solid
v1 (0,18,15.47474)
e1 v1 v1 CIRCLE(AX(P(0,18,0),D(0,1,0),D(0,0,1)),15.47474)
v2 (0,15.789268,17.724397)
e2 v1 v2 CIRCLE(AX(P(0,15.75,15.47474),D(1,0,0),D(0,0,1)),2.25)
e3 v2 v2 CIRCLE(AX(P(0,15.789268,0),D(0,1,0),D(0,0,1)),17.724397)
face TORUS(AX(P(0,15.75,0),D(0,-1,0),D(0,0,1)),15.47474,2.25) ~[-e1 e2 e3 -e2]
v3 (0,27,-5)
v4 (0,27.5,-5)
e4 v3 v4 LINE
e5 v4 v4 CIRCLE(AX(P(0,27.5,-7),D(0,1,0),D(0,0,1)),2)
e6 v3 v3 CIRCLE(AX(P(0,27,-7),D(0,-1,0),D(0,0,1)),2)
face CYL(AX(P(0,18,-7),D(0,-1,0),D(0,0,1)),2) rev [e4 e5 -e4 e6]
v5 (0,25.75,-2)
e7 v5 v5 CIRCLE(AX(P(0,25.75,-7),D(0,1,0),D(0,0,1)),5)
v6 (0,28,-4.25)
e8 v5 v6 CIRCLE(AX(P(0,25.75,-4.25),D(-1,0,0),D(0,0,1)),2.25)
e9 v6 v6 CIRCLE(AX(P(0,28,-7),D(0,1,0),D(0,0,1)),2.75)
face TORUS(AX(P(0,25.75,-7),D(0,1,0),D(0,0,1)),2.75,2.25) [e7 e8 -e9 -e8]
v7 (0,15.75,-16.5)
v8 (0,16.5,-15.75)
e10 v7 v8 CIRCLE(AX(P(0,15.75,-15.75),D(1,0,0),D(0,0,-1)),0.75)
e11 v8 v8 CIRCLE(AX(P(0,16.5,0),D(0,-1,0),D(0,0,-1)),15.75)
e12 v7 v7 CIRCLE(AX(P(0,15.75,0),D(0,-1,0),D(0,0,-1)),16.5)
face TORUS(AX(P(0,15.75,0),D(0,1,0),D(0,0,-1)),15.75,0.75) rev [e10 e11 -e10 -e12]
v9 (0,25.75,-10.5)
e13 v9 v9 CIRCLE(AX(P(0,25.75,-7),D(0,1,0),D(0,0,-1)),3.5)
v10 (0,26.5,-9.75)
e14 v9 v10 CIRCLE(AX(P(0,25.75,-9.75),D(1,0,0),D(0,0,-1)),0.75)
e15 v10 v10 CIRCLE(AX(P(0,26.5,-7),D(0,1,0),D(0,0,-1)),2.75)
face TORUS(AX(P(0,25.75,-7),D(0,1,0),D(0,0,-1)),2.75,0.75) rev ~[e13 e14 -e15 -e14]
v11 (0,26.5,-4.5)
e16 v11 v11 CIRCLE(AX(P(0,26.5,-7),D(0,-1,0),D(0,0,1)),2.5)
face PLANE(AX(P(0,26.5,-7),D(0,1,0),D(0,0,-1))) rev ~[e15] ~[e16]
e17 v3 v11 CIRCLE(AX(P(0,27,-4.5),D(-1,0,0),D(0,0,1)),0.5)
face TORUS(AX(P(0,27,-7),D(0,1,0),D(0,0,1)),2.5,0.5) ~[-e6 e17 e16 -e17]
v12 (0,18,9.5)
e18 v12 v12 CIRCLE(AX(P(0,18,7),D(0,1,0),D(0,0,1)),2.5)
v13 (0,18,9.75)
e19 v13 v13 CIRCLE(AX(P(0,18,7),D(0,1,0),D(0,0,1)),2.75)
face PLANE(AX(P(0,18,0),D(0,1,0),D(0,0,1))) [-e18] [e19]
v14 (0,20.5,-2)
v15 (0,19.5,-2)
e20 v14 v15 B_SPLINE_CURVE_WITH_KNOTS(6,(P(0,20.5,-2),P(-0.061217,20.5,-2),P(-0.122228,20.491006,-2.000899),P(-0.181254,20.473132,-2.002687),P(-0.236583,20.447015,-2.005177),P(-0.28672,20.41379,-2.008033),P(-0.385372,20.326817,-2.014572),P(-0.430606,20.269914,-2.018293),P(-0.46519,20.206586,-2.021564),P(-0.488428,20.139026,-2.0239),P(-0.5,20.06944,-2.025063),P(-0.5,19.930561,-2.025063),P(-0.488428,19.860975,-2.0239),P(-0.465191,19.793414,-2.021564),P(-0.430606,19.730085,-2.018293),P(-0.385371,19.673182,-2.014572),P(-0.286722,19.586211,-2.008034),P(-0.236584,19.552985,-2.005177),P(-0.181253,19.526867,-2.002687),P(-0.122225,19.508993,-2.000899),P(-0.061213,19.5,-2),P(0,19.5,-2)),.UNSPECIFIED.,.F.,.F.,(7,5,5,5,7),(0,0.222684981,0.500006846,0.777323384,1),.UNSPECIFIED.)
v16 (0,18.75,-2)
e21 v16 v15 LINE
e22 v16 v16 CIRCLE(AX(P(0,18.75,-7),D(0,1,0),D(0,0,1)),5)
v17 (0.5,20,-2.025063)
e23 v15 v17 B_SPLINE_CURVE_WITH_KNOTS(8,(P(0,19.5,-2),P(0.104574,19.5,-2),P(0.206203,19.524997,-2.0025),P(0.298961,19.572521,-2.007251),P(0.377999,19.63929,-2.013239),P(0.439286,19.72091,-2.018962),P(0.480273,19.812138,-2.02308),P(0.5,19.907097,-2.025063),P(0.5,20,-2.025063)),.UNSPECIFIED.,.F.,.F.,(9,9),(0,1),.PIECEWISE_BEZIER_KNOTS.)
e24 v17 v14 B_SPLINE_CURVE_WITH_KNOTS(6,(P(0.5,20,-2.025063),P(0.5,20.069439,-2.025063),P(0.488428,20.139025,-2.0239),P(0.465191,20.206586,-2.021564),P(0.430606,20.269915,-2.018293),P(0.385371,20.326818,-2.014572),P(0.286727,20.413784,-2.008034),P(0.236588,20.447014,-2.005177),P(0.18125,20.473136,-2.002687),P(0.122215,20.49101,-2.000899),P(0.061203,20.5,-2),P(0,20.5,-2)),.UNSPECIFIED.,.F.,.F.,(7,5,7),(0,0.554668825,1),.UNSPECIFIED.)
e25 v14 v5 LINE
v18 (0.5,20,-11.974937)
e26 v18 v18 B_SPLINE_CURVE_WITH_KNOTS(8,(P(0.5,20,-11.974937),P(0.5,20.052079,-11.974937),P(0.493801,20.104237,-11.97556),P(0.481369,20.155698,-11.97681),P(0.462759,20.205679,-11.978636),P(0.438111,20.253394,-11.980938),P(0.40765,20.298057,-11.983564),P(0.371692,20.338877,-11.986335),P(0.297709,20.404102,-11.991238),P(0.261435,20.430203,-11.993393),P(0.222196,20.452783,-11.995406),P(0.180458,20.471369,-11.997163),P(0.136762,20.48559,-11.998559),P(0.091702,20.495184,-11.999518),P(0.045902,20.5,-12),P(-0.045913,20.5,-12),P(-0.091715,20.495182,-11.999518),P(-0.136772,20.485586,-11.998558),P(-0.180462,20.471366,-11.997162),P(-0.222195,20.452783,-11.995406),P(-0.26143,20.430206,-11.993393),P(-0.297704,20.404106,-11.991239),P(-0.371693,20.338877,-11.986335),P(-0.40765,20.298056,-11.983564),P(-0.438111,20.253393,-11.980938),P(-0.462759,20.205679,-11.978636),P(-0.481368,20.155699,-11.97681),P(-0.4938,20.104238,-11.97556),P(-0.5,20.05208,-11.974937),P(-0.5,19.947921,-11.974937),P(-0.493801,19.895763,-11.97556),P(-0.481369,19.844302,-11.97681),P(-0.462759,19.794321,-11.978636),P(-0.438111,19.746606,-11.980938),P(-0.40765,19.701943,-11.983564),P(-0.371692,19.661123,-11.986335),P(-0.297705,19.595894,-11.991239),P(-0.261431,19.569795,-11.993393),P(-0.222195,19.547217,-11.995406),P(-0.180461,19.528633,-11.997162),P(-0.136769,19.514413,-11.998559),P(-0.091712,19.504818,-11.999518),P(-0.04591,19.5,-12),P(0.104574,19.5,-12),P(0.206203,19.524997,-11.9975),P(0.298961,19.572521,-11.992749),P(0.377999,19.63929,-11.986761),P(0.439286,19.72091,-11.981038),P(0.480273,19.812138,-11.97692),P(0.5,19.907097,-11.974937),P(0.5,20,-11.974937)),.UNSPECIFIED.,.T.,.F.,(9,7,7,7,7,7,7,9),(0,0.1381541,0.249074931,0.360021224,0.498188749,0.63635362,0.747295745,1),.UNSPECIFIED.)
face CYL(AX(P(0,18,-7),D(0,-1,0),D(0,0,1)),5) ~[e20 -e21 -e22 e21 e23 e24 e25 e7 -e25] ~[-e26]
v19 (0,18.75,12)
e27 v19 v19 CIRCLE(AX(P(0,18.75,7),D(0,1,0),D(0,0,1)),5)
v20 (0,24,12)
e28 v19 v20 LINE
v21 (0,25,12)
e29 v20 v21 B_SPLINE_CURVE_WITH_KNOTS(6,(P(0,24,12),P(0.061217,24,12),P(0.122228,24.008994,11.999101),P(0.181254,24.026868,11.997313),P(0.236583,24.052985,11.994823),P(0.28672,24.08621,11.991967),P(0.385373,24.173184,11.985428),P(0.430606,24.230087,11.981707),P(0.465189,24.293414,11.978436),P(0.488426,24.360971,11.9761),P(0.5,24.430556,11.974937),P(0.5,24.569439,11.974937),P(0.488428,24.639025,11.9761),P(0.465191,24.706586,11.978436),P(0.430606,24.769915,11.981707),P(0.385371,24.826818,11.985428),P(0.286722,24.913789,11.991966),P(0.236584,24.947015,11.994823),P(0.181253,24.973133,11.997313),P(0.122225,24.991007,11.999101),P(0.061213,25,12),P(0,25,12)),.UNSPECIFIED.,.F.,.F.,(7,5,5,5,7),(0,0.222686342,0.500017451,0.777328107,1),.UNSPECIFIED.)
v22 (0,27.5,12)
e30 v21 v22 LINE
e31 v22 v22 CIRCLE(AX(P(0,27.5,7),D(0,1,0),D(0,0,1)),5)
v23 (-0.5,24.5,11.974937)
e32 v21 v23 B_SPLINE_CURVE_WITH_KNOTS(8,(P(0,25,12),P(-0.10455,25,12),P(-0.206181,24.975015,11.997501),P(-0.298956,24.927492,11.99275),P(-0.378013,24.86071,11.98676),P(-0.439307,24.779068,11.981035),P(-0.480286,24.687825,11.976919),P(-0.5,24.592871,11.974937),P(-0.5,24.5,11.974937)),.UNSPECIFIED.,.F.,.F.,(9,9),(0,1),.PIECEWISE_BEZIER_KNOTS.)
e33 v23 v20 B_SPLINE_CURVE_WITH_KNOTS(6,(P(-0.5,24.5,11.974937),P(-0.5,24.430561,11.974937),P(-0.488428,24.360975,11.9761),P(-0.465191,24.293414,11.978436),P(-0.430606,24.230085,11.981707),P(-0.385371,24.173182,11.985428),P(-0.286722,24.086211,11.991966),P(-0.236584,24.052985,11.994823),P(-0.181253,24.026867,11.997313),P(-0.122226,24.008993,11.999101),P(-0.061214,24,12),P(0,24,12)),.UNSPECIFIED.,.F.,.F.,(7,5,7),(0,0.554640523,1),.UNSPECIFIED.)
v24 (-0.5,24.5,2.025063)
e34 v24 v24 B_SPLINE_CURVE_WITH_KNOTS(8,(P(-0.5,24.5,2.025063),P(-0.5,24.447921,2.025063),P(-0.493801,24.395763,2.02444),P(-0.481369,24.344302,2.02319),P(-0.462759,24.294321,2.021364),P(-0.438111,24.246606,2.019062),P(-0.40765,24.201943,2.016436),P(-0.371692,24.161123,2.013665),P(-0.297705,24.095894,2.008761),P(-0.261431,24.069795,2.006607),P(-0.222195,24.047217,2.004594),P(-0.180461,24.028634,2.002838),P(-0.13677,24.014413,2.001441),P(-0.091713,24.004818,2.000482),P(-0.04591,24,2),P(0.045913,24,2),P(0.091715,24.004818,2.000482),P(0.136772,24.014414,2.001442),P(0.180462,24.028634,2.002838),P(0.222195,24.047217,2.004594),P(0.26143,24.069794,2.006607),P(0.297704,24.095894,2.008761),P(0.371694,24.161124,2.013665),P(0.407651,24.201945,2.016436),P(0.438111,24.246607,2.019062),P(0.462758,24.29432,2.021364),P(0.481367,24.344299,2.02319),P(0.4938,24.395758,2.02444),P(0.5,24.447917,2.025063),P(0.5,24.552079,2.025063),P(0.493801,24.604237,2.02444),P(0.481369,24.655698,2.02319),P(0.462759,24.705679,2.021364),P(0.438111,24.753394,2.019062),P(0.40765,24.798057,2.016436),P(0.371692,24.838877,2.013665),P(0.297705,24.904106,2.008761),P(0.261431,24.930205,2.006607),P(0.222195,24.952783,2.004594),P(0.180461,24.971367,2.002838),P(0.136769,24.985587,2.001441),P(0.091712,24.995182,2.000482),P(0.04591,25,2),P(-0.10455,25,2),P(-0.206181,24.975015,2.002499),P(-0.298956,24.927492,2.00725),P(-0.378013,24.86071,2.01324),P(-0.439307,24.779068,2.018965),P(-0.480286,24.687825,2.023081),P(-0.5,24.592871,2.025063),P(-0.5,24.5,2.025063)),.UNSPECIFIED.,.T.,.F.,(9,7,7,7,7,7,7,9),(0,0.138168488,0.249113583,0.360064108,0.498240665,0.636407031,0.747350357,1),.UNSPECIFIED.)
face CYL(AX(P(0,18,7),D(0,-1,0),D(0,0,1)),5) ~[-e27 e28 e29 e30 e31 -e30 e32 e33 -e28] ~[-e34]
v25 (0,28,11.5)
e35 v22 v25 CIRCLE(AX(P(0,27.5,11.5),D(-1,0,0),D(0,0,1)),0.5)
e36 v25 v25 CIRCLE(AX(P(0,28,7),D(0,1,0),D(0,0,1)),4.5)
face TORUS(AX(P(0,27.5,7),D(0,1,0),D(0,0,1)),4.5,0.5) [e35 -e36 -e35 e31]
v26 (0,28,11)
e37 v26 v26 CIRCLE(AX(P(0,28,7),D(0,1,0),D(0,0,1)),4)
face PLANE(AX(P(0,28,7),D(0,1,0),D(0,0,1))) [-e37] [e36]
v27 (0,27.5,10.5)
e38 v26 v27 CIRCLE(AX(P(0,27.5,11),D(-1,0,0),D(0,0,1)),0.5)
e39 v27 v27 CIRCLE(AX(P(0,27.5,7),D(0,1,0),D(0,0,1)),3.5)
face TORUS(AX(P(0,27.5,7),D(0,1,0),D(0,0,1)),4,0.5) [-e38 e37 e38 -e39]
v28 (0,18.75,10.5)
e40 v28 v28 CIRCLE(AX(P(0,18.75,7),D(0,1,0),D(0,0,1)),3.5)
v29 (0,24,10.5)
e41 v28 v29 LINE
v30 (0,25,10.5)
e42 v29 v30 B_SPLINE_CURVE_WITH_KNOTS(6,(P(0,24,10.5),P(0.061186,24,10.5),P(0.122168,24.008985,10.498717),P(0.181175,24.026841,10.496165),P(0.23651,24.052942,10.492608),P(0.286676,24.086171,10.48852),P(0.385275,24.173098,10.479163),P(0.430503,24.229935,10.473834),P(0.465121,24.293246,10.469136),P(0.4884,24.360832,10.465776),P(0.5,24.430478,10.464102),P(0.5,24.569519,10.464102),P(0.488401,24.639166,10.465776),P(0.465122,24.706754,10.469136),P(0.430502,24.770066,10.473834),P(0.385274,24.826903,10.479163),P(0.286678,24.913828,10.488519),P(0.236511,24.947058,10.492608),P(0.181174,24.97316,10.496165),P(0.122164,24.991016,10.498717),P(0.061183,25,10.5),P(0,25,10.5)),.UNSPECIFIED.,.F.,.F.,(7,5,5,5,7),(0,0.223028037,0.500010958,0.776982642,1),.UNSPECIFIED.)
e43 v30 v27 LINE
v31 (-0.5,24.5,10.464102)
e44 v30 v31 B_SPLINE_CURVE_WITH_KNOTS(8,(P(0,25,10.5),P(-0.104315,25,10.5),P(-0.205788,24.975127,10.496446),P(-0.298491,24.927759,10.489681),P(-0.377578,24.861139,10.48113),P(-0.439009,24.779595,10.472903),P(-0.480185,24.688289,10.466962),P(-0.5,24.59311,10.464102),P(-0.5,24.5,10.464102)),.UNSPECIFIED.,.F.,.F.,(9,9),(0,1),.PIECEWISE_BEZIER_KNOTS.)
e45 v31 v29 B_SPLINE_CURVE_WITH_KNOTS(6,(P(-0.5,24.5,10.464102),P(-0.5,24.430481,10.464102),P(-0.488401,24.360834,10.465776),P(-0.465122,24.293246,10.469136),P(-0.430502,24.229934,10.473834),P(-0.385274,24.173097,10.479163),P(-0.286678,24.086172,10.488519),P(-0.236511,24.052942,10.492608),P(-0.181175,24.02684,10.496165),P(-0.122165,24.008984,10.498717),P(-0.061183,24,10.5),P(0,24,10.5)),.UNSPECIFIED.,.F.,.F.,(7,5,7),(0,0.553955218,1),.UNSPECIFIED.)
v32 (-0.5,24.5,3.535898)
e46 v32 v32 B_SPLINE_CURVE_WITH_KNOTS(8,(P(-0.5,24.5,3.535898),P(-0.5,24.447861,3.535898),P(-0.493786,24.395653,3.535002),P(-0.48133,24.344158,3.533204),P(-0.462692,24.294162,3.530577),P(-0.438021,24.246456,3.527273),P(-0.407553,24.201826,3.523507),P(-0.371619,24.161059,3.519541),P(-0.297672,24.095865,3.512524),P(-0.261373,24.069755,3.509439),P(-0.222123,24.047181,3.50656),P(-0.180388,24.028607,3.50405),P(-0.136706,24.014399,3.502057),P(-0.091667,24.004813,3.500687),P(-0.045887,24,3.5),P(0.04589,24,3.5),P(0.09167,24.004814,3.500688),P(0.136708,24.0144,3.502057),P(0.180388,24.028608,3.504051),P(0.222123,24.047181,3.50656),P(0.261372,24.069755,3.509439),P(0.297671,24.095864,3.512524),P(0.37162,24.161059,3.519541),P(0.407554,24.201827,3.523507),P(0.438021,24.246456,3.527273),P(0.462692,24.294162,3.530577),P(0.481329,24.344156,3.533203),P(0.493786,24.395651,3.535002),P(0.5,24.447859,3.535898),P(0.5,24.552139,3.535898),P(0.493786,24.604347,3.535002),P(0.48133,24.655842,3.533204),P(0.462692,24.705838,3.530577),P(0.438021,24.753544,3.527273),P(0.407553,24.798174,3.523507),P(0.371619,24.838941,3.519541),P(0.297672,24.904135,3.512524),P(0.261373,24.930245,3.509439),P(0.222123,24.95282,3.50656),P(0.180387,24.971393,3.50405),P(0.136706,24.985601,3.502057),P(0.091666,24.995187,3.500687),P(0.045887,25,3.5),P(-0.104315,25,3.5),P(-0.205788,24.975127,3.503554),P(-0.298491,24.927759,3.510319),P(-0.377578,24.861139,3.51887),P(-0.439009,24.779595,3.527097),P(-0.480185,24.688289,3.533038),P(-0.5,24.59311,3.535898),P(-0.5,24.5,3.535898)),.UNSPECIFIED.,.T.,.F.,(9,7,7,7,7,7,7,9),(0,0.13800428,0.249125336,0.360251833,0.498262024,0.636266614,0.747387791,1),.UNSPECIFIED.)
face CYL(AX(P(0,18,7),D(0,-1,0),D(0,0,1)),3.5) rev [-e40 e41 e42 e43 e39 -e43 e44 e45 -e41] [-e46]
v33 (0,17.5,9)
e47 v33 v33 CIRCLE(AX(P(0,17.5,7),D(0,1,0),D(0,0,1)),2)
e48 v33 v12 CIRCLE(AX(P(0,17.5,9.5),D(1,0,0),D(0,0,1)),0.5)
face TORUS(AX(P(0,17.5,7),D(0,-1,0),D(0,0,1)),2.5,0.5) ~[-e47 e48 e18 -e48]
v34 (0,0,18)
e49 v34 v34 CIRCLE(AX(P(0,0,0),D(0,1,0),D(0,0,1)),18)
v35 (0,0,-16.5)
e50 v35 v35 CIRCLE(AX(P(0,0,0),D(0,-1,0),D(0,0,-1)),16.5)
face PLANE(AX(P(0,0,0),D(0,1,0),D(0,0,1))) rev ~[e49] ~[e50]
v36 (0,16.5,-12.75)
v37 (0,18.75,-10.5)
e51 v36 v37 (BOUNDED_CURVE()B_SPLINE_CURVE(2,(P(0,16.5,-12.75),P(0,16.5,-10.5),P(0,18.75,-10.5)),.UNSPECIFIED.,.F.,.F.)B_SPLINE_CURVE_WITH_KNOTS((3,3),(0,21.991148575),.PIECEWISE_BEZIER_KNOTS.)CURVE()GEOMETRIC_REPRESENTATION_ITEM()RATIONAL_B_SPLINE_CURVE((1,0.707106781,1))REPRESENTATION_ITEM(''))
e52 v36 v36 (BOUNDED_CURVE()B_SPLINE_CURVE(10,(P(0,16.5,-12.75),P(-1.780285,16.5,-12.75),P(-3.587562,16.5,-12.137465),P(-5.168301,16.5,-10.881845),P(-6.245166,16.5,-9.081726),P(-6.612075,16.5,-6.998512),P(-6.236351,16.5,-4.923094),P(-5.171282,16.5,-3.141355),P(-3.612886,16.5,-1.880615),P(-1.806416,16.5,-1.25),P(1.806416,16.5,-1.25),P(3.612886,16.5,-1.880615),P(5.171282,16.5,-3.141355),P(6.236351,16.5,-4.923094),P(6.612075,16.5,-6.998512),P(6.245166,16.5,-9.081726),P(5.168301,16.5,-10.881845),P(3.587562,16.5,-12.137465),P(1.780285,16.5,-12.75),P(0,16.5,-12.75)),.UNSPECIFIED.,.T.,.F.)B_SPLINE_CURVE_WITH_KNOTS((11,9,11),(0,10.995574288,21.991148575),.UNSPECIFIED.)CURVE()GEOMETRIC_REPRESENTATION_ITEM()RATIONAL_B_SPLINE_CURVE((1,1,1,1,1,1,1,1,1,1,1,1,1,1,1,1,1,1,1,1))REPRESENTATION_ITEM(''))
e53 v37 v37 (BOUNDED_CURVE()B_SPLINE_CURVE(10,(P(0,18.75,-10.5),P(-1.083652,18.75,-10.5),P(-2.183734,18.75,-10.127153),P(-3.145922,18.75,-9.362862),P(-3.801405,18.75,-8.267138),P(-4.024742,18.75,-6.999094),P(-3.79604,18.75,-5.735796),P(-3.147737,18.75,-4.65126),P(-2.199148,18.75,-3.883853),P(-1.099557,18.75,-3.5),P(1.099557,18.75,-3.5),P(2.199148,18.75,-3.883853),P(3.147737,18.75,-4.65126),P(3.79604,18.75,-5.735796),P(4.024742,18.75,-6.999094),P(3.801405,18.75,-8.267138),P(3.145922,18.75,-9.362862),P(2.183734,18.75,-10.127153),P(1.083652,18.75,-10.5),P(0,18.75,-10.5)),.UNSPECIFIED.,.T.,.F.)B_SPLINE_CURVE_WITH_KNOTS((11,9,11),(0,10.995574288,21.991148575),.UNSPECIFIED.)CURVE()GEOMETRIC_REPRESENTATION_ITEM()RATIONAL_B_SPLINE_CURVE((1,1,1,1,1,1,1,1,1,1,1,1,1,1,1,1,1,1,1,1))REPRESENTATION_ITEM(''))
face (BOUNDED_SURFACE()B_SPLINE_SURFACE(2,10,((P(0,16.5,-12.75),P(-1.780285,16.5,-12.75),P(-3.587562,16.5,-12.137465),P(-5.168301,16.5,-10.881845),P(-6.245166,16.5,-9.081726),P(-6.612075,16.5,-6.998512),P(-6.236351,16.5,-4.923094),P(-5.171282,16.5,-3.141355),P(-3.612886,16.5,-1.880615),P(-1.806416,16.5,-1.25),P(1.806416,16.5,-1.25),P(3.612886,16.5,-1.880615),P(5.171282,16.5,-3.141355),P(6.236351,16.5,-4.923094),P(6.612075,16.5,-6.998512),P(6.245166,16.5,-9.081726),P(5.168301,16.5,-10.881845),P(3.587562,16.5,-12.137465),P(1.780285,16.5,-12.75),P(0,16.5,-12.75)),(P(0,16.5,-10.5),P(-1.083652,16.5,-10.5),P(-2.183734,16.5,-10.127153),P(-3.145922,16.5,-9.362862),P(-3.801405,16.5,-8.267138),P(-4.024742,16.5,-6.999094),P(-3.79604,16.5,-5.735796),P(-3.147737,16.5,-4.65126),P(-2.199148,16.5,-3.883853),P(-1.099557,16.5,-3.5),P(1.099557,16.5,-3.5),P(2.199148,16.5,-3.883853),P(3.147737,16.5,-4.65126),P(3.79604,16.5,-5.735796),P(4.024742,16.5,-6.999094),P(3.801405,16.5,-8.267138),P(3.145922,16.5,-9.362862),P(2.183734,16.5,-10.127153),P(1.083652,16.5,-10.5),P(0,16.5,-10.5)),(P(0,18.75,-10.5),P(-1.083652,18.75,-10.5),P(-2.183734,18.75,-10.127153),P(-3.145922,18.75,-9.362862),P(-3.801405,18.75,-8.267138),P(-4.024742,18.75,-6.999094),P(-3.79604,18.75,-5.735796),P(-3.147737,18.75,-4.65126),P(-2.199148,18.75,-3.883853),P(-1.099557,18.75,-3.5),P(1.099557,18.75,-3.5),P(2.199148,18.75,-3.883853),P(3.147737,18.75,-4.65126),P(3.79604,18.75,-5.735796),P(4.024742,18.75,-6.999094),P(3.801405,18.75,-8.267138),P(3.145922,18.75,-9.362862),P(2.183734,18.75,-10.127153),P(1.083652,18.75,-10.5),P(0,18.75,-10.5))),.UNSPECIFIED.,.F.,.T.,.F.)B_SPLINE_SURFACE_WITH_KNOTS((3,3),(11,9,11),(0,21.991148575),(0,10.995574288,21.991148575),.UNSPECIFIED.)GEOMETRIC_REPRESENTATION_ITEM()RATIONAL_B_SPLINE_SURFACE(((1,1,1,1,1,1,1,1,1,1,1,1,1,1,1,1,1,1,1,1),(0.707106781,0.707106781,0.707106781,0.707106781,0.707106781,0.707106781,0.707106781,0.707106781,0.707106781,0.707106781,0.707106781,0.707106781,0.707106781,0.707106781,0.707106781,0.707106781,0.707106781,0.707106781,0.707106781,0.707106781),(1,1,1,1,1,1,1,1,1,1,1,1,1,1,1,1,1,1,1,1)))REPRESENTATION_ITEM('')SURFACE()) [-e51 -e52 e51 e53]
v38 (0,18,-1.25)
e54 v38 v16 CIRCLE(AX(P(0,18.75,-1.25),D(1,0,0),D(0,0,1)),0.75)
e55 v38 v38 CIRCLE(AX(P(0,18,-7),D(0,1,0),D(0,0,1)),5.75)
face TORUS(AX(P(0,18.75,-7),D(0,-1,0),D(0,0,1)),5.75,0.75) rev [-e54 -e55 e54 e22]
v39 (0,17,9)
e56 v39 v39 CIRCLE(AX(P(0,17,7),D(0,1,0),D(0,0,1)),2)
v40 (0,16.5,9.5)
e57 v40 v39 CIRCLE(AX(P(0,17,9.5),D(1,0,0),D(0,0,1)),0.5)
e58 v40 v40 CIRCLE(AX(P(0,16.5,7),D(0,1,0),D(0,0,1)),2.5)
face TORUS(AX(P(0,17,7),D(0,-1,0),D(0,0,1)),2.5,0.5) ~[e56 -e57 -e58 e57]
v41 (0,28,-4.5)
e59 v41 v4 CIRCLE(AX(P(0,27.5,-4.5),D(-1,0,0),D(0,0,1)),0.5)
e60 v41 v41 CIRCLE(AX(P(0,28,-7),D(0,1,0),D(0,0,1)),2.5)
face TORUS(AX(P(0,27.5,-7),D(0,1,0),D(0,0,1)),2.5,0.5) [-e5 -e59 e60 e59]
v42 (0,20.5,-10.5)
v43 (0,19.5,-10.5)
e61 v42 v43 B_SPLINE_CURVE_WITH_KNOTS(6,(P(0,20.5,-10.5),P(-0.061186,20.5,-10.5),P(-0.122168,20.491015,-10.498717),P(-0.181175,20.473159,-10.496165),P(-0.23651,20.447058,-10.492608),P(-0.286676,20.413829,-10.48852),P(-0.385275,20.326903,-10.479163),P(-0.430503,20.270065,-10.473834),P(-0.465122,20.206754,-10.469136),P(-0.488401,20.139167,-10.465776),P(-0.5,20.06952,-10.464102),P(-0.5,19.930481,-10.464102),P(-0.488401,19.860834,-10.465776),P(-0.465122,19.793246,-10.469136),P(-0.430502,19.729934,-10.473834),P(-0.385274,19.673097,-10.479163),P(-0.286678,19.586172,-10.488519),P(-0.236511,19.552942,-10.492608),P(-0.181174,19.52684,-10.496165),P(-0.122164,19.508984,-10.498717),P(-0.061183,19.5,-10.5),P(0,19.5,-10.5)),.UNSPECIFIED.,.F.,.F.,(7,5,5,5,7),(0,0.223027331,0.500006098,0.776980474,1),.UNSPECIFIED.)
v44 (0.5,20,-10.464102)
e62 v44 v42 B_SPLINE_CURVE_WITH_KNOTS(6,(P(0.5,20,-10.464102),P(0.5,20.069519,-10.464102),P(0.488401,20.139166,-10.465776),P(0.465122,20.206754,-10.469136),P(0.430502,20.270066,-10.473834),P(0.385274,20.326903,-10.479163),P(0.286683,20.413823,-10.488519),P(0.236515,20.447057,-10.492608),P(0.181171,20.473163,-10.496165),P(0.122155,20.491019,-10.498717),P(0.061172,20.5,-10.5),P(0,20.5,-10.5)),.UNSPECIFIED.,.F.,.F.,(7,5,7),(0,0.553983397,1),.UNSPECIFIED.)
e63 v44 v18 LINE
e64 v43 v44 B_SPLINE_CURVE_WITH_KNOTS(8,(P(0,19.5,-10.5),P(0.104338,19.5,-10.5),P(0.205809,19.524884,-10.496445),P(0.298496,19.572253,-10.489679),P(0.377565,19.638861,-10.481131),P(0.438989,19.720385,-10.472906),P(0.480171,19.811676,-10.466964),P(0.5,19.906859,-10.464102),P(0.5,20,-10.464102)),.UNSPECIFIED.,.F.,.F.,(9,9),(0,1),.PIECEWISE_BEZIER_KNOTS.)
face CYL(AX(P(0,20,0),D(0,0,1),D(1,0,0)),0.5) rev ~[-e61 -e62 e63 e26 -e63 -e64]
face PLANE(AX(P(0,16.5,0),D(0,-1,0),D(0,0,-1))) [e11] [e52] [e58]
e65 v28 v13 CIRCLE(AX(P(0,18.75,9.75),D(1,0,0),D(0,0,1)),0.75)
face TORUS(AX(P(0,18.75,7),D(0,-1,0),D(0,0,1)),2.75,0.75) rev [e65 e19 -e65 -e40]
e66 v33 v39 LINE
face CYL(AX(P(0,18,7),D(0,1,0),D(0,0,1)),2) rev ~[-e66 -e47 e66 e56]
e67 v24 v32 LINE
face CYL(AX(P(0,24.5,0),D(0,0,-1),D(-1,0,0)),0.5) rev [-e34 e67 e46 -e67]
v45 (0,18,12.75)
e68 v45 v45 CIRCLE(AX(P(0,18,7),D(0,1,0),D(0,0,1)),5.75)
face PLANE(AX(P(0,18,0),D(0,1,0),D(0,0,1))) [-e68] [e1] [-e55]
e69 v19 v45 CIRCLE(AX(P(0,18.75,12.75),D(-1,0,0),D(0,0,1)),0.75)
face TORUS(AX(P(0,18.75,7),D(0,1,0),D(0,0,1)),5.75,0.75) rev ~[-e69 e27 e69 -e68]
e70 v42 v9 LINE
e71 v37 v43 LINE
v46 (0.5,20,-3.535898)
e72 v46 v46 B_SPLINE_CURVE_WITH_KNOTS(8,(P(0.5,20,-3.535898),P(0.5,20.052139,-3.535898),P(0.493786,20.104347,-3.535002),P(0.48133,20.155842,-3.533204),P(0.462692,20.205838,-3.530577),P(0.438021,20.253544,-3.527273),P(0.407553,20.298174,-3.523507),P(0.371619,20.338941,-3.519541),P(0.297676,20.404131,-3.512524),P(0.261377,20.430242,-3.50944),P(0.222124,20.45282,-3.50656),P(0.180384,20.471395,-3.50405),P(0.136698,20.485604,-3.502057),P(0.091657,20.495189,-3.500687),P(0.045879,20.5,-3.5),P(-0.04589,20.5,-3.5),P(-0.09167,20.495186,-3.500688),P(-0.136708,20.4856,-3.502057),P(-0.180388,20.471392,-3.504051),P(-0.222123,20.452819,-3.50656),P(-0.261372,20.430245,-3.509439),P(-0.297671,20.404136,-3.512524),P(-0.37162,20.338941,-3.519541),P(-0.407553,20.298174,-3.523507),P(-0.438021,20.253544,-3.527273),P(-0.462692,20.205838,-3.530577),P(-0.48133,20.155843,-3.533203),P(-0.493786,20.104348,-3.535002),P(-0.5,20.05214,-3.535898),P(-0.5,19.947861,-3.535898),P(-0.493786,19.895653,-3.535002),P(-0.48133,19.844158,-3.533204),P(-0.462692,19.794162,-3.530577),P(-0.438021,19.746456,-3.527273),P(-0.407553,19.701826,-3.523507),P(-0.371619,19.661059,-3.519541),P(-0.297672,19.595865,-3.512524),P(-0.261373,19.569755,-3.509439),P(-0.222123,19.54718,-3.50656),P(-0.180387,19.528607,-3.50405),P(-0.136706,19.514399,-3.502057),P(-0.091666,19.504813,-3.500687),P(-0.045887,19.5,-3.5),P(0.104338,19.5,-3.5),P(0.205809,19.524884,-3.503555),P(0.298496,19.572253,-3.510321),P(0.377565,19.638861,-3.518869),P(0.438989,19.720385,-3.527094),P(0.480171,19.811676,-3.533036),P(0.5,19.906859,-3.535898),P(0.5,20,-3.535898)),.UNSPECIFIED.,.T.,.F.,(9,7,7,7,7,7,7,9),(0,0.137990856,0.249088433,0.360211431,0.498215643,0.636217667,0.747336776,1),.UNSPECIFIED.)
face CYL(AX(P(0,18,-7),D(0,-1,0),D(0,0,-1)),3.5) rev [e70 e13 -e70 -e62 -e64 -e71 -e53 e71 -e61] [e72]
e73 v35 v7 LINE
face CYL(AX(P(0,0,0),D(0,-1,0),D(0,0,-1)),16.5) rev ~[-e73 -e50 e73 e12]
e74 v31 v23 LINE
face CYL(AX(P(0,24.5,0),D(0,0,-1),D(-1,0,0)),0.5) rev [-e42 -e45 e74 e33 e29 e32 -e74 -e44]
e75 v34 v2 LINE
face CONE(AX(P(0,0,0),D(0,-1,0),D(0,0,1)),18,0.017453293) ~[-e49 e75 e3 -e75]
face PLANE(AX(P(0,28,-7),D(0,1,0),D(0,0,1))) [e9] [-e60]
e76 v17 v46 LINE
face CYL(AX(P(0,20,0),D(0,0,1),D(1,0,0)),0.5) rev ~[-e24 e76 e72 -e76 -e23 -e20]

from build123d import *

# Parameters (mm, degrees)
SKETCH1_R                      = 18
BOSS_EXTRUDE1_DEPTH            = 18
SKETCH2_R                      = 16.5
CUT_EXTRUDE1_DEPTH             = 16.5
DRAFT1_ANGLE                   = -1
BOSS_EXTRUDE2_START            = 18
SKETCH3_R                      = 5
SKETCH3_R_2                    = 3.5
SKETCH3_R_3                    = 2
BOSS_EXTRUDE2_DEPTH            = 10
SKETCH4_R                      = 2
SKETCH4_R_2                    = 3.5
CUT_EXTRUDE3_DEPTH             = 8.5
CUT_EXTRUDE3_DIRECTION_2_REACH = 33.177
FILLET4_R                      = 0.5
SKETCH6_R                      = 0.5
CUT_EXTRUDE4_DEPTH             = 38.841775857
SKETCH7_R                      = 0.5
CUT_EXTRUDE5_DEPTH             = 38.841775931
FILLET5_R                      = 0.75
FILLET6_R                      = 2.25


with BuildPart() as part:
    # Sketch1 → Boss-Extrude1 (new body)
    with BuildSketch(Plane(origin=(0, 0, 0), x_dir=(1, 0, 0), z_dir=(0, 1, 0))):
        with Locations(Location((0, 0, 0), (0, 0, 270))):
            Circle(SKETCH1_R)
    extrude(amount=BOSS_EXTRUDE1_DEPTH)

    # Sketch2 → Cut-Extrude1 (cut)
    with BuildSketch(Plane(origin=(0, 0, 0), x_dir=(-1, 0, 0), z_dir=(0, -1, 0))):
        with Locations(Location((0, 0, 0), (0, 0, 90))):
            Circle(SKETCH2_R)
    extrude(amount=-CUT_EXTRUDE1_DEPTH, mode=Mode.SUBTRACT)

    # Draft1
    draft1_faces = [part.faces().sort_by_distance(p)[0] for p in [
        (0, 9, -18),
    ]]
    draft(draft1_faces, Plane(origin=(0, 0, 0), x_dir=(0, 0, -1), z_dir=(0, -1, 0)), DRAFT1_ANGLE)

    # Sketch3 → Boss-Extrude2 (add)
    # profile 1 of 2: a face of its own
    with BuildSketch(Plane(origin=(0, 0, 0), x_dir=(1, 0, 0), z_dir=(0, 1, 0)).offset(BOSS_EXTRUDE2_START)):
        with Locations(Location((0, -7, 0), (0, 0, 270))):
            Circle(SKETCH3_R)
        with Locations(Location((0, -7, 0), (0, 0, 270))):
            Circle(SKETCH3_R_2, mode=Mode.SUBTRACT)
    # profile 2 of 2: a face of its own
    with BuildSketch(Plane(origin=(0, 0, 0), x_dir=(1, 0, 0), z_dir=(0, 1, 0)).offset(BOSS_EXTRUDE2_START)):
        with Locations(Location((0, 7, 0), (0, 0, 270))):
            Circle(SKETCH3_R)
        with Locations(Location((0, 7, 0), (0, 0, 270))):
            Circle(SKETCH3_R_3, mode=Mode.SUBTRACT)
    extrude(amount=BOSS_EXTRUDE2_DEPTH)

    # Sketch4 → Cut-Extrude3 (cut)
    with BuildSketch(Plane(origin=(0, 18, 0), x_dir=(1, 0, 0), z_dir=(0, 1, 0))):
        with Locations(Location((0, -7, 0), (0, 0, 270))):
            Circle(SKETCH4_R)
        with Locations(Location((0, 7, 0), (0, 0, 90))):
            Circle(SKETCH4_R_2)
    extrude(amount=CUT_EXTRUDE3_DEPTH, mode=Mode.SUBTRACT)

    # Sketch4 → Cut-Extrude3 direction 2 (cut, up to next)
    with BuildSketch(Plane(origin=(0, 18, 0), x_dir=(1, 0, 0), z_dir=(0, 1, 0)), mode=Mode.PRIVATE) as cut_extrude3_direction_2_sk1:
        with Locations(Location((0, -7, 0), (0, 0, 270))):
            Circle(SKETCH4_R)
    cut_extrude3_direction_2_tool1 = extrude(cut_extrude3_direction_2_sk1.sketch, amount=-CUT_EXTRUDE3_DIRECTION_2_REACH, mode=Mode.PRIVATE) & part.part
    # Sketch4 → Cut-Extrude3 direction 2 (cut, up to next)
    with BuildSketch(Plane(origin=(0, 18, 0), x_dir=(1, 0, 0), z_dir=(0, 1, 0)), mode=Mode.PRIVATE) as cut_extrude3_direction_2_sk2:
        with Locations(Location((0, 7, 0), (0, 0, 90))):
            Circle(SKETCH4_R_2)
    cut_extrude3_direction_2_tool2 = extrude(cut_extrude3_direction_2_sk2.sketch, amount=-CUT_EXTRUDE3_DIRECTION_2_REACH, mode=Mode.PRIVATE) & part.part
    add(cut_extrude3_direction_2_tool1.solids().sort_by_distance((0, 18, 7))[0], mode=Mode.SUBTRACT)
    add(cut_extrude3_direction_2_tool2.solids().sort_by_distance((0, 18, -7))[0], mode=Mode.SUBTRACT)

    # Fillet4
    fillet4_edges = [part.edges().sort_by_distance(p)[0] for p in [
        (0, 28, 2),
        (0, 28, 3.5),
        (0, 28, -9),
        (0, 18, 5),
        (0, 16.5, 5),
        (0, 26.5, -9),
    ]]
    fillet(fillet4_edges, radius=FILLET4_R)

    # Sketch6 → Cut-Extrude4 (cut, through all)
    with BuildSketch(Plane.XY):
        with Locations((0, 20)):
            Circle(SKETCH6_R)
    extrude(amount=-CUT_EXTRUDE4_DEPTH, mode=Mode.SUBTRACT)

    # Sketch7 → Cut-Extrude5 (cut, through all)
    with BuildSketch(Plane.XY):
        with Locations(Location((0, 24.5, 0), (0, 0, 180))):
            Circle(SKETCH7_R)
    extrude(amount=CUT_EXTRUDE5_DEPTH, mode=Mode.SUBTRACT)

    # Fillet5
    fillet5_edges = [part.edges().sort_by_distance(p)[0] for p in [
        (0, 18, 3.5),
        (0, 18, 2),
        (0, 18, -12),
        (0, 26.5, -3.5),
        (0, 16.5, 16.5),
    ]]
    fillet(fillet5_edges, radius=FILLET5_R)

    # Fillet6
    fillet6_edges = [part.edges().sort_by_distance(p)[0] for p in [
        (0, 28, -12),
        (0, 16.5, -3.5),
        (0, 18, -17.685808831),
    ]]
    fillet(fillet6_edges, radius=FILLET6_R)


solid = part.part
